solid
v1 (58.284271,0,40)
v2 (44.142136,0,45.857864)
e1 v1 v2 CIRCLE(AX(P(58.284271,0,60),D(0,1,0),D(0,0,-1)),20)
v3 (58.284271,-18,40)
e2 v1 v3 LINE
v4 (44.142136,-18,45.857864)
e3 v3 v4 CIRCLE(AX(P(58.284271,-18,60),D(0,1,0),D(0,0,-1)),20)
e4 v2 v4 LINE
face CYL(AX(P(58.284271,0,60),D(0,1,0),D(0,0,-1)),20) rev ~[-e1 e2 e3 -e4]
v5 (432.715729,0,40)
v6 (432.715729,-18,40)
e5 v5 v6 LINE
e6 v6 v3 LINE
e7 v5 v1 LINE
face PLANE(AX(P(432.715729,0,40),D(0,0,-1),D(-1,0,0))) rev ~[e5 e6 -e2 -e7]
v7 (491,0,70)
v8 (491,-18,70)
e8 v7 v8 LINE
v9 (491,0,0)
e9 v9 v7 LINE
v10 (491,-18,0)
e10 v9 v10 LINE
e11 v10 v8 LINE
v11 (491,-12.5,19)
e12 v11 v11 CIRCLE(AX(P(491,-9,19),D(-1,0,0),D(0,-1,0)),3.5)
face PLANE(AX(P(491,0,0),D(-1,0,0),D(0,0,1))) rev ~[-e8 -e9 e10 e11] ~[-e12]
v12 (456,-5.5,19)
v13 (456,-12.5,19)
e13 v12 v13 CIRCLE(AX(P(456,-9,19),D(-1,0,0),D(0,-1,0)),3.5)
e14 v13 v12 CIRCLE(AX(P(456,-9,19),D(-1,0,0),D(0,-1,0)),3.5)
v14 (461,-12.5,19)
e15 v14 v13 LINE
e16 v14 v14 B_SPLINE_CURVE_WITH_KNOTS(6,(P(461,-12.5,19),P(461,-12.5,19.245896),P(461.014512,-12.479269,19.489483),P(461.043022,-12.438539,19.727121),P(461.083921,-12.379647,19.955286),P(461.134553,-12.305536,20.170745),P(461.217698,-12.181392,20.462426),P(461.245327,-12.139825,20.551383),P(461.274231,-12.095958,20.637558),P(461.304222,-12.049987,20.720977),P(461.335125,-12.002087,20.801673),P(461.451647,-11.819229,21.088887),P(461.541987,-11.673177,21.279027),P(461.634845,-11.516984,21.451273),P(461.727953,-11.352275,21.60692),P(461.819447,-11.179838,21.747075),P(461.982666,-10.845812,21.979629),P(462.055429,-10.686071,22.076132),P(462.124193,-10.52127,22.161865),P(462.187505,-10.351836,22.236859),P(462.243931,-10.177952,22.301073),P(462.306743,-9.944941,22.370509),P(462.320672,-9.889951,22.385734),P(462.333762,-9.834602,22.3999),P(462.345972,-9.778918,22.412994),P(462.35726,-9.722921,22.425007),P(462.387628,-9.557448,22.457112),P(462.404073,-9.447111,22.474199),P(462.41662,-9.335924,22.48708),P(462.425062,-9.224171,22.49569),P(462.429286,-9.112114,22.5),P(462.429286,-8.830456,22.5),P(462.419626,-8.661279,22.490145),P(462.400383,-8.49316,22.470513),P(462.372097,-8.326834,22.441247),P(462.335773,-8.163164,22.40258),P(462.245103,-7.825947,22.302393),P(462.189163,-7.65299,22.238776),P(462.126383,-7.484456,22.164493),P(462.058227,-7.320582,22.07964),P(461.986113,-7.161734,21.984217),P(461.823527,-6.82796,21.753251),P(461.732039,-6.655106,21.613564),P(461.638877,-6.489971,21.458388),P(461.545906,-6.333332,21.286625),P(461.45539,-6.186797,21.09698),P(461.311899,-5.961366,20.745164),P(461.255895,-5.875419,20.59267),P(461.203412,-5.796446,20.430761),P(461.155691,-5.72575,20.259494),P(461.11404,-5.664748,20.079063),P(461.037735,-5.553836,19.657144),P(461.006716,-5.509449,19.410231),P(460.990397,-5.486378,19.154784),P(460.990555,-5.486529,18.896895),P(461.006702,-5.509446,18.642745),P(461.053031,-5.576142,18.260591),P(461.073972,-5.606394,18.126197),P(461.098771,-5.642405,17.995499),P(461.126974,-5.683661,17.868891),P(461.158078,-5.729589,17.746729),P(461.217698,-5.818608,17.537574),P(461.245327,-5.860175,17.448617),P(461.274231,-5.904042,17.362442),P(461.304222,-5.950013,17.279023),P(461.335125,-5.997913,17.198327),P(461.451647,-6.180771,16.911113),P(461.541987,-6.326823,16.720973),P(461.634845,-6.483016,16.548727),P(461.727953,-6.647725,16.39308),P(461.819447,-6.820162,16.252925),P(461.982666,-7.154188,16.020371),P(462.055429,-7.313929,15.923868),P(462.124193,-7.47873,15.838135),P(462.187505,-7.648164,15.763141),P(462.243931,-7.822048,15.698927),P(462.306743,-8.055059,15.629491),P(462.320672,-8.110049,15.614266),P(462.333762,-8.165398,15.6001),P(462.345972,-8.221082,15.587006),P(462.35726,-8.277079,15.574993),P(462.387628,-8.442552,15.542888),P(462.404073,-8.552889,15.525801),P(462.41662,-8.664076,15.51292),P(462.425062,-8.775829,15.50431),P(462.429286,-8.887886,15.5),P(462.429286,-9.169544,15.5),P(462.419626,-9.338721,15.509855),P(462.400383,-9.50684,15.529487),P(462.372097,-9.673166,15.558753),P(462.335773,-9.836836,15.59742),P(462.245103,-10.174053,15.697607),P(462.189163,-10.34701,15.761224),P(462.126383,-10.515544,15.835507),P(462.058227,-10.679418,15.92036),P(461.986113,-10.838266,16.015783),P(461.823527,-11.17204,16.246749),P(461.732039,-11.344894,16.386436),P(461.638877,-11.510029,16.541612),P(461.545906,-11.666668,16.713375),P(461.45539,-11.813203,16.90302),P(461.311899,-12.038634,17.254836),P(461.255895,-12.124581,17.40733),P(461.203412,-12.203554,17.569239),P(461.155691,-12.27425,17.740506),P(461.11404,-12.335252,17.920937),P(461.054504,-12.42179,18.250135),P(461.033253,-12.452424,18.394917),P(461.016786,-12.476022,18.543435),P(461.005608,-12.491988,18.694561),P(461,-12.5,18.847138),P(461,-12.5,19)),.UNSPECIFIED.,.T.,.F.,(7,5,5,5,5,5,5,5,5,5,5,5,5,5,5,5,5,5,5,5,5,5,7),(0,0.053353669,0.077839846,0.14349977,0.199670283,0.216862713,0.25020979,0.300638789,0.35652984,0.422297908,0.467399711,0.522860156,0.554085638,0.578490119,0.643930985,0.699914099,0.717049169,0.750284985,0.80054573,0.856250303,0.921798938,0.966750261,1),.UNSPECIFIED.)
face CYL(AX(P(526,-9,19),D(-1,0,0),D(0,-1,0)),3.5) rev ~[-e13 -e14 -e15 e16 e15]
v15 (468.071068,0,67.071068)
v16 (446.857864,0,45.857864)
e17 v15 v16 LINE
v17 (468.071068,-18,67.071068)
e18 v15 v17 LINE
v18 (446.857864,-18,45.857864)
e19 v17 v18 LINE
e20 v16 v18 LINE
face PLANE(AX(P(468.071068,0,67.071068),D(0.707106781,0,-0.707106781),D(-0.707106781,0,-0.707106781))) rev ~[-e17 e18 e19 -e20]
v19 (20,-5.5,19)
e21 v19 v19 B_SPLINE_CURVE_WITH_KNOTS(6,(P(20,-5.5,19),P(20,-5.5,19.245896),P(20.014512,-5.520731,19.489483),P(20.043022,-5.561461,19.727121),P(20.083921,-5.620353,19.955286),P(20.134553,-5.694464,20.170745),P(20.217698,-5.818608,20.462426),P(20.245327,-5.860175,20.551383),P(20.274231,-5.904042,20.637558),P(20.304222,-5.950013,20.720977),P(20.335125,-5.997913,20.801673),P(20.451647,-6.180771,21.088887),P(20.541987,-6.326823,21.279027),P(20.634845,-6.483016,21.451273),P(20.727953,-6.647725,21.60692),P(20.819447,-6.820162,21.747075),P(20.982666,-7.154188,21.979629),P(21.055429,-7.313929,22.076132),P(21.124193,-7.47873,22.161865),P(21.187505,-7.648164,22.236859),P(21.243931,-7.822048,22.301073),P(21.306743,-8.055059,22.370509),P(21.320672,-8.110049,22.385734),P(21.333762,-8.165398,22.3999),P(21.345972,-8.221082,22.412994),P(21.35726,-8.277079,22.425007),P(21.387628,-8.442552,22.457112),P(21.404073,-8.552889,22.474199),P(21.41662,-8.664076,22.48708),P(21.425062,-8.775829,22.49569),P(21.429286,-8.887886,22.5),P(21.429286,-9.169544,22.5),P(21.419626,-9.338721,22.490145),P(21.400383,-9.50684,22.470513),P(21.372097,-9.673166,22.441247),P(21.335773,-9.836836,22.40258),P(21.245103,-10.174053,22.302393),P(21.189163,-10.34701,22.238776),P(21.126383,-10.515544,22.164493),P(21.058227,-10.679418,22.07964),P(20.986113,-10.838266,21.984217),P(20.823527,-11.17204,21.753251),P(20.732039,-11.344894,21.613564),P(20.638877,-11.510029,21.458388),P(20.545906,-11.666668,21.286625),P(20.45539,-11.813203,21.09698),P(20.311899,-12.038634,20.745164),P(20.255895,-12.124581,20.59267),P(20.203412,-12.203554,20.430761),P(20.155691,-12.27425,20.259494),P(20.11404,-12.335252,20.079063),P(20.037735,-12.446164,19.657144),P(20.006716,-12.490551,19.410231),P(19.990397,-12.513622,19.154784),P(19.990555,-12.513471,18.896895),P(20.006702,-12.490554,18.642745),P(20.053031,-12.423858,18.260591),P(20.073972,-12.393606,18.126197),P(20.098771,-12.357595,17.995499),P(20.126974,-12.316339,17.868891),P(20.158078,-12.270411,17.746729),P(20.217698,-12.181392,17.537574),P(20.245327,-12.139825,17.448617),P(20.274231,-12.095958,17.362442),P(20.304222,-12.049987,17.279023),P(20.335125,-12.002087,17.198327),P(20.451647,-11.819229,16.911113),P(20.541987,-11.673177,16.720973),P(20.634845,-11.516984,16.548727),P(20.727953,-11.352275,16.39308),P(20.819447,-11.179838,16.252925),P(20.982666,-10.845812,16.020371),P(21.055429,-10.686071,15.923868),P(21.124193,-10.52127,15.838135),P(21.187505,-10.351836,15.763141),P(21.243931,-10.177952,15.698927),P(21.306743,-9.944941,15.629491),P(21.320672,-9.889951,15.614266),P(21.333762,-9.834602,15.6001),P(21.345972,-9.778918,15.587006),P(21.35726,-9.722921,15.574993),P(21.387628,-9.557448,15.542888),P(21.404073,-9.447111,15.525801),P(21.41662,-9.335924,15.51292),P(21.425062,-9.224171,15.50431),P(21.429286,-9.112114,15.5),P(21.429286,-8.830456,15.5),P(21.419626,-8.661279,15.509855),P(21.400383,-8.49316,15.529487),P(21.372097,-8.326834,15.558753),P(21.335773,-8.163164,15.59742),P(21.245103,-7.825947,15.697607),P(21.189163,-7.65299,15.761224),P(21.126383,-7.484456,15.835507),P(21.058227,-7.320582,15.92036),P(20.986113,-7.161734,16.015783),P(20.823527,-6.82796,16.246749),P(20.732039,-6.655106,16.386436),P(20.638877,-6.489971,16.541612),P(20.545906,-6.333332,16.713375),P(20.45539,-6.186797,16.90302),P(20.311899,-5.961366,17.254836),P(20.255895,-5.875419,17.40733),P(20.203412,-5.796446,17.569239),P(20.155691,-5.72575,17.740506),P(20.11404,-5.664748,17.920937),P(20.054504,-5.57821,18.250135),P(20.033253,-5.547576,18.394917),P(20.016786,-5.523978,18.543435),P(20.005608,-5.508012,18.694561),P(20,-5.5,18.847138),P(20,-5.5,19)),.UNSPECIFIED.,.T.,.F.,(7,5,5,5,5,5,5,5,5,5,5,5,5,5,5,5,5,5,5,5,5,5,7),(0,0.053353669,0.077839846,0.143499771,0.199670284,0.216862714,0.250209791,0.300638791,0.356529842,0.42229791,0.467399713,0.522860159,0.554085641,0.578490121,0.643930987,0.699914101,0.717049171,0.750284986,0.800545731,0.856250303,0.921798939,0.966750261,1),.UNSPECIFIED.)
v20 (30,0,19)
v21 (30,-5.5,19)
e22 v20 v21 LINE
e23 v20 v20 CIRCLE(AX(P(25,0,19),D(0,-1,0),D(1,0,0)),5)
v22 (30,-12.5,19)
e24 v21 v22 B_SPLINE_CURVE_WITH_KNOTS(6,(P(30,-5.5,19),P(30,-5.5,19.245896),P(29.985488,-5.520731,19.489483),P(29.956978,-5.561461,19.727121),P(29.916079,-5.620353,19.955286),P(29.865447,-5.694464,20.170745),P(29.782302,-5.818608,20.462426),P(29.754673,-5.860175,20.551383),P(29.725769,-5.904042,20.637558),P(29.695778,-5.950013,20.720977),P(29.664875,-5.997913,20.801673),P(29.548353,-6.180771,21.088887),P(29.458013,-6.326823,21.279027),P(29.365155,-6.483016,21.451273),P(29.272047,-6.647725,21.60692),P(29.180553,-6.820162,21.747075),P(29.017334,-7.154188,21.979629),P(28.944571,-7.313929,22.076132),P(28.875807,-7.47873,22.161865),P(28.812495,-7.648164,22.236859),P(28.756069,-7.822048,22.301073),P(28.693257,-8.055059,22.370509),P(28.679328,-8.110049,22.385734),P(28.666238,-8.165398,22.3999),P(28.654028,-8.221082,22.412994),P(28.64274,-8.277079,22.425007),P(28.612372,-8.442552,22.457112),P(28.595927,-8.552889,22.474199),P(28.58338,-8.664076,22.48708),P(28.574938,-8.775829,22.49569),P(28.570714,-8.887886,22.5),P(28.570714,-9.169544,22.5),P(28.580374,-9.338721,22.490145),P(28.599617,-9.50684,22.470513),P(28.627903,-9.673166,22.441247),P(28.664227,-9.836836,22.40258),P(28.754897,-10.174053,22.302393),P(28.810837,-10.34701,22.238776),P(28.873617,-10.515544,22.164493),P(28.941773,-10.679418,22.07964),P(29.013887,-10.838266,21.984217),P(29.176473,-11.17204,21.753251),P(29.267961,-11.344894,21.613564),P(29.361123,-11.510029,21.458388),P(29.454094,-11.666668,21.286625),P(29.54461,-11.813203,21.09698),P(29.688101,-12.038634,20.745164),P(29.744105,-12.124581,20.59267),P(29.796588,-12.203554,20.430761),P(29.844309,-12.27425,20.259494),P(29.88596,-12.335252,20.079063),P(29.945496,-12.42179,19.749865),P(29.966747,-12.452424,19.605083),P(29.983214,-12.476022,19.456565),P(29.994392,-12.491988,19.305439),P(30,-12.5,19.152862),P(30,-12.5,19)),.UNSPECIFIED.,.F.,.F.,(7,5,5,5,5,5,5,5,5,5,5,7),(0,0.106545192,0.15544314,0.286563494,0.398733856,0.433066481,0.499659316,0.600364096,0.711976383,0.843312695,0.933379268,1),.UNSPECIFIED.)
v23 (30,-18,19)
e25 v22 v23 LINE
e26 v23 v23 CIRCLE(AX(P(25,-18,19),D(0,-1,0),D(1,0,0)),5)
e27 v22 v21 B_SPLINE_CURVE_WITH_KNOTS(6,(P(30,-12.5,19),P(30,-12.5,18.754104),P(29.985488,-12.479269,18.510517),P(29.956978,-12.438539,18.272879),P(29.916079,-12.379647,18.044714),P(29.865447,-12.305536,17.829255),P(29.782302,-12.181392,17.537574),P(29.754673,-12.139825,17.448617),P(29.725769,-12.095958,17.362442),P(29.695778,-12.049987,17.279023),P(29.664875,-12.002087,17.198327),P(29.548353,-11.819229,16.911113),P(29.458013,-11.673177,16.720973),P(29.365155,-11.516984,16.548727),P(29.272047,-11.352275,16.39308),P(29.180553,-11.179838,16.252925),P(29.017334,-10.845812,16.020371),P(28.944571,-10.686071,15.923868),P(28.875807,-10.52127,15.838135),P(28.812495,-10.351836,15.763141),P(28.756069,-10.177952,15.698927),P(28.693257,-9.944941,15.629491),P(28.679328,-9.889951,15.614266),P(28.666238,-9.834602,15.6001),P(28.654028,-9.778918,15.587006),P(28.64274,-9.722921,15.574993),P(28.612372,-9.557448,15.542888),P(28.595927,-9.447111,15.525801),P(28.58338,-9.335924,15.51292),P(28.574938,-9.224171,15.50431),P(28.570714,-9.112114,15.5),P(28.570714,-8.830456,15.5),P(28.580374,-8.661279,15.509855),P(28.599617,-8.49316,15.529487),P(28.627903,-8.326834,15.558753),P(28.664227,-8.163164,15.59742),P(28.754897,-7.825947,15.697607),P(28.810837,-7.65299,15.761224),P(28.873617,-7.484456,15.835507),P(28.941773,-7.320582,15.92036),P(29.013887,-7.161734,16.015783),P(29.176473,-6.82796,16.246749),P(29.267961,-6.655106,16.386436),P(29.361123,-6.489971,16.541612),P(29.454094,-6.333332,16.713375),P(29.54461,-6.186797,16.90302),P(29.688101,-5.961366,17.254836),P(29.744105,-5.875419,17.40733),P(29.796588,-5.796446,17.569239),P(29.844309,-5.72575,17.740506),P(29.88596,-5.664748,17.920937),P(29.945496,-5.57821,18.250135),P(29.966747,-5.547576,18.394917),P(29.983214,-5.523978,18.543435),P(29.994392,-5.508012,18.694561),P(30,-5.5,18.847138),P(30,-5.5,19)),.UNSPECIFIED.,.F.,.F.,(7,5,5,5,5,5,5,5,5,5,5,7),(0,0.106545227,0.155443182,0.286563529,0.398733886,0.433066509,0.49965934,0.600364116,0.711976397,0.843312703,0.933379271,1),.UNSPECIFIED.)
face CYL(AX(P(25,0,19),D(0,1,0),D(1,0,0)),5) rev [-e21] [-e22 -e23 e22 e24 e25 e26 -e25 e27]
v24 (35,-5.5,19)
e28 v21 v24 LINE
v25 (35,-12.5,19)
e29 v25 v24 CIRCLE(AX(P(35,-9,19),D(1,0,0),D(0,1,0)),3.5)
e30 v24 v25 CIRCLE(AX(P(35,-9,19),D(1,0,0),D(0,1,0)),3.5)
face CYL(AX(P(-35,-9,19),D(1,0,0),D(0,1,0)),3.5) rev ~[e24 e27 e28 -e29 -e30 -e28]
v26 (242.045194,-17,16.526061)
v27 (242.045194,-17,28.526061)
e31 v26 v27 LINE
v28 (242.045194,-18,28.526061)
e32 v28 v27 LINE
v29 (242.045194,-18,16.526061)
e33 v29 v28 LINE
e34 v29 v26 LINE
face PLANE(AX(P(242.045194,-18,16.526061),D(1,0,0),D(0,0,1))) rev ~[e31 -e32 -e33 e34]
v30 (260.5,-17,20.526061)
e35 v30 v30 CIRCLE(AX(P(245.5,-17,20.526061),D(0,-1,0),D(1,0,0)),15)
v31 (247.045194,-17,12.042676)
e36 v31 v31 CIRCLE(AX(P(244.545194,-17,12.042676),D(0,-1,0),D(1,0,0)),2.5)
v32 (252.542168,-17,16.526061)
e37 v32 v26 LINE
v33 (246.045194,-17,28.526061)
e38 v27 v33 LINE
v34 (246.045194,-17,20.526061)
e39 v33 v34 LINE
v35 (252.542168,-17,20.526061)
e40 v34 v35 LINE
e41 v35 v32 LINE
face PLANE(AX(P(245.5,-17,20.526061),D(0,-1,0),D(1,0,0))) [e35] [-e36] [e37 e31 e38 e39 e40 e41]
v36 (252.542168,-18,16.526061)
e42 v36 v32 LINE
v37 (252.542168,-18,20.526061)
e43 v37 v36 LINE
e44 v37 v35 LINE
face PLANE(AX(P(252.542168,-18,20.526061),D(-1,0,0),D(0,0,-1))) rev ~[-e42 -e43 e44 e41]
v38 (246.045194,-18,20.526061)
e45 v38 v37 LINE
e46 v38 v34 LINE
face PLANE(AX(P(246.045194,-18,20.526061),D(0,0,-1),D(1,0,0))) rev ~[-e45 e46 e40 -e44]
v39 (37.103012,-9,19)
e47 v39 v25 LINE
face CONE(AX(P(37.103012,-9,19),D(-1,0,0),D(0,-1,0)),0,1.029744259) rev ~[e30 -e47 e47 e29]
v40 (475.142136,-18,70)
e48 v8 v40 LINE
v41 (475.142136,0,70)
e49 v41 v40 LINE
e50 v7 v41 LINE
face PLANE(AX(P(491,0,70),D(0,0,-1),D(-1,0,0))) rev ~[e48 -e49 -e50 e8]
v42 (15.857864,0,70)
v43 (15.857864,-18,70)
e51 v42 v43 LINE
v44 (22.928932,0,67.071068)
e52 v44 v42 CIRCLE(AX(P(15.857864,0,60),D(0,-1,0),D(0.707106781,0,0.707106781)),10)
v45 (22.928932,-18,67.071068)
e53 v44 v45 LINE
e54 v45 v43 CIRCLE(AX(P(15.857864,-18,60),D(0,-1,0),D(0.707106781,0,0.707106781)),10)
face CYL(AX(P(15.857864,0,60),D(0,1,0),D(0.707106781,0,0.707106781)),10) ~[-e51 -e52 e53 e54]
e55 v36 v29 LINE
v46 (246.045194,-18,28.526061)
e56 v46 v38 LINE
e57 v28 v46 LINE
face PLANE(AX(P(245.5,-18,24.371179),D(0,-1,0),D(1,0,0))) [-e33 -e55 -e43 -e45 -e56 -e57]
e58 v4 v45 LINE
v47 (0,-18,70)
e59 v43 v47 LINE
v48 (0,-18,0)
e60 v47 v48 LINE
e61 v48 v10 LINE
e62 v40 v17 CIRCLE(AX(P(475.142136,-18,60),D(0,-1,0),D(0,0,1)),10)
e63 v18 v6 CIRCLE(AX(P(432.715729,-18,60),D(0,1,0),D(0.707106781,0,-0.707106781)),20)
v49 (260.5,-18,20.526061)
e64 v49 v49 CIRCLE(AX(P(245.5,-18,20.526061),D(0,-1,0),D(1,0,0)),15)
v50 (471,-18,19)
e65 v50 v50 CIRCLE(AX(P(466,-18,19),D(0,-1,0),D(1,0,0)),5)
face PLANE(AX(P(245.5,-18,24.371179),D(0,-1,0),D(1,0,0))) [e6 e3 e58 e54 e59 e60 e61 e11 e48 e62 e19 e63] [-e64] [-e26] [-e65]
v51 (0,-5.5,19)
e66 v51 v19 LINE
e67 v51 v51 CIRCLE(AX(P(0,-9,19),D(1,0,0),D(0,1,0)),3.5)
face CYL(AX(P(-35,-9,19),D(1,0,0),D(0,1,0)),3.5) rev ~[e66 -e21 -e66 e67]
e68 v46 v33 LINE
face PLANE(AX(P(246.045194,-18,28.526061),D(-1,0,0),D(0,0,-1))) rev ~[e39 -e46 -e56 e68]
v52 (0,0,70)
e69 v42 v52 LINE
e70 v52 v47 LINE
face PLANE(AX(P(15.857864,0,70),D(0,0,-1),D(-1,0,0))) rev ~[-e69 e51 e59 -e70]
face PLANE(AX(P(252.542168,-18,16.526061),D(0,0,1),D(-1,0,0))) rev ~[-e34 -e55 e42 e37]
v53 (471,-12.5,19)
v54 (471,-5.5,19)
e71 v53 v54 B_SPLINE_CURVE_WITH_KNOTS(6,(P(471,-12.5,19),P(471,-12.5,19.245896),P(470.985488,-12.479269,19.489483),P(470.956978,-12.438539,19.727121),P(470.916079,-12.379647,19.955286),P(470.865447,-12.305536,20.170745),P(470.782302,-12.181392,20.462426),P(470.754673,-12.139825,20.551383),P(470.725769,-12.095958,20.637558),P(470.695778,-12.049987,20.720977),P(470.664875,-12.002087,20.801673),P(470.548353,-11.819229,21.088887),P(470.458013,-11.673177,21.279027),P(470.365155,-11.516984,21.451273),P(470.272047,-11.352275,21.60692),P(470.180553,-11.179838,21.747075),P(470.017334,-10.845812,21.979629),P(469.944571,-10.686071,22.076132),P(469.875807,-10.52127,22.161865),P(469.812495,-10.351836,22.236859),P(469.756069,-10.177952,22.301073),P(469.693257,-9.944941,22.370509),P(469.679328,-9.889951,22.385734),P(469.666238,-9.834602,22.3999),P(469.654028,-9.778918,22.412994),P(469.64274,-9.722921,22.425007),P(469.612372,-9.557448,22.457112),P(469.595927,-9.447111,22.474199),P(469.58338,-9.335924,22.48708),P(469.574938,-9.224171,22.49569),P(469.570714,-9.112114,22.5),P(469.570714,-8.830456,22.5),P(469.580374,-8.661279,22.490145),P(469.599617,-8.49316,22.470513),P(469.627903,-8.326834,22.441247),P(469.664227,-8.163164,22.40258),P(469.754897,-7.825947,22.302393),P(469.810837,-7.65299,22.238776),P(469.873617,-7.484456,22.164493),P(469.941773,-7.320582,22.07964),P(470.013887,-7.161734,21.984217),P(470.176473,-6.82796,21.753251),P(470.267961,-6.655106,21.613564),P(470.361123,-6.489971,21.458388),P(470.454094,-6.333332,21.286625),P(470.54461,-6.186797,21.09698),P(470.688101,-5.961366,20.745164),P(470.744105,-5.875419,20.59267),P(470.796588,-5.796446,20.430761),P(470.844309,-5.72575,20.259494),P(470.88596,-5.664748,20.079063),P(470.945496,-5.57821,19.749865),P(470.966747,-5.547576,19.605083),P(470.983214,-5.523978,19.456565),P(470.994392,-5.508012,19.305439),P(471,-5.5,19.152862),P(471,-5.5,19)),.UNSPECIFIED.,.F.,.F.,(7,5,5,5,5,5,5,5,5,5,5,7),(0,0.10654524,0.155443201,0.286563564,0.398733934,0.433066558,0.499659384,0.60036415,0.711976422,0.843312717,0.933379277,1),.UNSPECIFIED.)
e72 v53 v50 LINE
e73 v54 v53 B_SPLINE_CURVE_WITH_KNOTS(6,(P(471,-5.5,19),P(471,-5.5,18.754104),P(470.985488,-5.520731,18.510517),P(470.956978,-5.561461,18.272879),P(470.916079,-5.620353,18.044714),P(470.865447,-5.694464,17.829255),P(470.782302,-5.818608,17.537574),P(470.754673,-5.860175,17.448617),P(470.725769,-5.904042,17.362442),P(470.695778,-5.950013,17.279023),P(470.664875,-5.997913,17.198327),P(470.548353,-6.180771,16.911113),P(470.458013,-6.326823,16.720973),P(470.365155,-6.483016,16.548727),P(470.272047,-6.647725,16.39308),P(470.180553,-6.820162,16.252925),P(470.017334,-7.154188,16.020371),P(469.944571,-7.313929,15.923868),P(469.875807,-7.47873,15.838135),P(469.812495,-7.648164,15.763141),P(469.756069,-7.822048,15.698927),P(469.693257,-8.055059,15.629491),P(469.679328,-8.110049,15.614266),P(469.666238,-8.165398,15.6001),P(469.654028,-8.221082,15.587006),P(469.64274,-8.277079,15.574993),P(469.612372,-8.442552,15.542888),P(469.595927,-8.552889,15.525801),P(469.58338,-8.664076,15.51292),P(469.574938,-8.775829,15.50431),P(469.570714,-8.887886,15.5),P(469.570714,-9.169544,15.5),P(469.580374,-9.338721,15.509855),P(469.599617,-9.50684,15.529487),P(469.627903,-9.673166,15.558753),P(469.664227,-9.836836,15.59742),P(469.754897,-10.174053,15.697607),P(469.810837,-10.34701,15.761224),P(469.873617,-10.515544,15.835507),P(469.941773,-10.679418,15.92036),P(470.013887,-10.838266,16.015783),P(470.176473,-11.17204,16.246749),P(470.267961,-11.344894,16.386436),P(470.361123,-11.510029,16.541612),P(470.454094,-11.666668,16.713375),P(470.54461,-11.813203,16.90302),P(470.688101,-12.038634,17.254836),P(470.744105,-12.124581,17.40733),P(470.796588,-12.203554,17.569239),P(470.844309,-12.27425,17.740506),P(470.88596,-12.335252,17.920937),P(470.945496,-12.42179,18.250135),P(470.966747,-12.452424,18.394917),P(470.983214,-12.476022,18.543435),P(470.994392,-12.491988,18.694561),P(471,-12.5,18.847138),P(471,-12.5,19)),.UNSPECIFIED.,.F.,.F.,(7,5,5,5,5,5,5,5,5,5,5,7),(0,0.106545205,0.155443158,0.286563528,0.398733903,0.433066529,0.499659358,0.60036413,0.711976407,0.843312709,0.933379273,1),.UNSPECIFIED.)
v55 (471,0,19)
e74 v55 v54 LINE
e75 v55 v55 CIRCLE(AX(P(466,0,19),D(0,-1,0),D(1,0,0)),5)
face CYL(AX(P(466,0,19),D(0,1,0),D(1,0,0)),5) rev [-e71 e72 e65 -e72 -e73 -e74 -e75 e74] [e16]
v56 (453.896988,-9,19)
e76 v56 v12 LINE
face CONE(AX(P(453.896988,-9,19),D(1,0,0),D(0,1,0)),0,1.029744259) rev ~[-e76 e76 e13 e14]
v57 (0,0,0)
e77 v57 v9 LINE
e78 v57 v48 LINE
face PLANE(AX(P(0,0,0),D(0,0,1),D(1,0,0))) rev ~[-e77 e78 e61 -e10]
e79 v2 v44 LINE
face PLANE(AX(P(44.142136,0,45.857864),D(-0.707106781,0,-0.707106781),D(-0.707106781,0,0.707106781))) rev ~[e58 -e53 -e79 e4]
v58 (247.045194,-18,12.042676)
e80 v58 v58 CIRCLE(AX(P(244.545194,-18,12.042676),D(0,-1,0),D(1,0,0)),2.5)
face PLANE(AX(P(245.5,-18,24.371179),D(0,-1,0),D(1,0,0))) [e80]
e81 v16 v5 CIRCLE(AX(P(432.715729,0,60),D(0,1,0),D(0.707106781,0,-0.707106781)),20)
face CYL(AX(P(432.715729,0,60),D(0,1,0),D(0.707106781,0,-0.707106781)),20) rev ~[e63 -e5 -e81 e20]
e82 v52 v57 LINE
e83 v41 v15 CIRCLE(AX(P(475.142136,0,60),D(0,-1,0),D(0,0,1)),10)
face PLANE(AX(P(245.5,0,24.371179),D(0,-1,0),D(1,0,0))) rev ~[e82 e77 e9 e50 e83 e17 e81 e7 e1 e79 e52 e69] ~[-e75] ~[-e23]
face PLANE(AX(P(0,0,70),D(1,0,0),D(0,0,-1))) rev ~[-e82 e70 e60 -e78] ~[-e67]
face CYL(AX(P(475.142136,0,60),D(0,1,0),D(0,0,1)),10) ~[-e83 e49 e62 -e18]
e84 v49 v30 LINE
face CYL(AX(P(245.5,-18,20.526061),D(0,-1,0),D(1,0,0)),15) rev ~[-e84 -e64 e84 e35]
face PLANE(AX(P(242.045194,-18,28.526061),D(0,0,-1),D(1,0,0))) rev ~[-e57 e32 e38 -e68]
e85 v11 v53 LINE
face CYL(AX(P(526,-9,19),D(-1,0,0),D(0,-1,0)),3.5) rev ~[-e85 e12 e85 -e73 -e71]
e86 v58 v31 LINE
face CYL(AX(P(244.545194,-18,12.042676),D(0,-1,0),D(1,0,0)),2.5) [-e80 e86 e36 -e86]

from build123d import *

# Parameters (mm, degrees)
F0_R     = 5
F1_DEPTH = 18
F4_D     = 7
F4_DEPTH = 35
F4_TIP   = 2.1030121666
F5_D     = 7
F5_DEPTH = 35
F5_TIP   = 2.1030121666
F6_R     = 15
F6_R_2   = 2.5
F7_DEPTH = 1


with BuildPart() as f1:
    # F0 (on Front) → F1 (new body)
    with BuildSketch(Plane.XZ):
        with BuildLine():
            Line((0, 70), (0, 0))
            Line((0, 0), (491, 0))
            Line((491, 0), (491, 70))
            Line((491, 70), (475.1421356237, 70))
            ThreePointArc((475.1421356237, 70), (471.3153013001, 69.2387953251), (468.0710678119, 67.0710678119))
            Line((468.0710678119, 67.0710678119), (446.8578643763, 45.8578643763))
            ThreePointArc((446.8578643763, 45.8578643763), (440.3693973998, 41.5224093498), (432.7157287525, 40))
            Line((432.7157287525, 40), (58.2842712475, 40))
            ThreePointArc((58.2842712475, 40), (50.6306026002, 41.5224093498), (44.1421356237, 45.8578643763))
            Line((44.1421356237, 45.8578643763), (22.9289321881, 67.0710678119))
            ThreePointArc((22.9289321881, 67.0710678119), (19.6846986999, 69.2387953251), (15.8578643763, 70))
            Line((15.8578643763, 70), (0, 70))
        make_face()
        with Locations((25, 19)):
            Circle(F0_R, mode=Mode.SUBTRACT)
        with Locations((466, 19)):
            Circle(F0_R, mode=Mode.SUBTRACT)
    extrude(amount=F1_DEPTH)

    # F4
    with Locations(Plane(origin=(0, 0, 0), x_dir=(0, -1, 0), z_dir=(-1, 0, 0))):
        with Locations((9, 19)):
            Hole(F4_D / 2, depth=F4_DEPTH)
            with Locations((0, 0, -(F4_DEPTH + F4_TIP / 2))):  # 118° drill point
                Cone(0, F4_D / 2, F4_TIP, mode=Mode.SUBTRACT)

    # F5
    with Locations(Plane.YZ.offset(491)):
        with Locations((-9, 19)):
            Hole(F5_D / 2, depth=F5_DEPTH)
            with Locations((0, 0, -(F5_DEPTH + F5_TIP / 2))):  # 118° drill point
                Cone(0, F5_D / 2, F5_TIP, mode=Mode.SUBTRACT)

    # F6 (on face) → F7 (cut)
    with BuildSketch(Plane.XZ.offset(18)):
        with Locations((245.5, 20.5260608345)):
            Circle(F6_R)
        with Locations((244.5451939106, 12.0426760986)):
            Circle(F6_R_2, mode=Mode.SUBTRACT)
        Polygon((242.0451939106, 16.5260608345), (242.0451939106, 28.5260608345), (246.0451939106, 28.5260608345), (246.0451939106, 20.5260608345), (252.542167902, 20.5260608345), (252.542167902, 16.5260608345), align=None, mode=Mode.SUBTRACT)
    extrude(amount=-F7_DEPTH, mode=Mode.SUBTRACT)


solid = f1.part
